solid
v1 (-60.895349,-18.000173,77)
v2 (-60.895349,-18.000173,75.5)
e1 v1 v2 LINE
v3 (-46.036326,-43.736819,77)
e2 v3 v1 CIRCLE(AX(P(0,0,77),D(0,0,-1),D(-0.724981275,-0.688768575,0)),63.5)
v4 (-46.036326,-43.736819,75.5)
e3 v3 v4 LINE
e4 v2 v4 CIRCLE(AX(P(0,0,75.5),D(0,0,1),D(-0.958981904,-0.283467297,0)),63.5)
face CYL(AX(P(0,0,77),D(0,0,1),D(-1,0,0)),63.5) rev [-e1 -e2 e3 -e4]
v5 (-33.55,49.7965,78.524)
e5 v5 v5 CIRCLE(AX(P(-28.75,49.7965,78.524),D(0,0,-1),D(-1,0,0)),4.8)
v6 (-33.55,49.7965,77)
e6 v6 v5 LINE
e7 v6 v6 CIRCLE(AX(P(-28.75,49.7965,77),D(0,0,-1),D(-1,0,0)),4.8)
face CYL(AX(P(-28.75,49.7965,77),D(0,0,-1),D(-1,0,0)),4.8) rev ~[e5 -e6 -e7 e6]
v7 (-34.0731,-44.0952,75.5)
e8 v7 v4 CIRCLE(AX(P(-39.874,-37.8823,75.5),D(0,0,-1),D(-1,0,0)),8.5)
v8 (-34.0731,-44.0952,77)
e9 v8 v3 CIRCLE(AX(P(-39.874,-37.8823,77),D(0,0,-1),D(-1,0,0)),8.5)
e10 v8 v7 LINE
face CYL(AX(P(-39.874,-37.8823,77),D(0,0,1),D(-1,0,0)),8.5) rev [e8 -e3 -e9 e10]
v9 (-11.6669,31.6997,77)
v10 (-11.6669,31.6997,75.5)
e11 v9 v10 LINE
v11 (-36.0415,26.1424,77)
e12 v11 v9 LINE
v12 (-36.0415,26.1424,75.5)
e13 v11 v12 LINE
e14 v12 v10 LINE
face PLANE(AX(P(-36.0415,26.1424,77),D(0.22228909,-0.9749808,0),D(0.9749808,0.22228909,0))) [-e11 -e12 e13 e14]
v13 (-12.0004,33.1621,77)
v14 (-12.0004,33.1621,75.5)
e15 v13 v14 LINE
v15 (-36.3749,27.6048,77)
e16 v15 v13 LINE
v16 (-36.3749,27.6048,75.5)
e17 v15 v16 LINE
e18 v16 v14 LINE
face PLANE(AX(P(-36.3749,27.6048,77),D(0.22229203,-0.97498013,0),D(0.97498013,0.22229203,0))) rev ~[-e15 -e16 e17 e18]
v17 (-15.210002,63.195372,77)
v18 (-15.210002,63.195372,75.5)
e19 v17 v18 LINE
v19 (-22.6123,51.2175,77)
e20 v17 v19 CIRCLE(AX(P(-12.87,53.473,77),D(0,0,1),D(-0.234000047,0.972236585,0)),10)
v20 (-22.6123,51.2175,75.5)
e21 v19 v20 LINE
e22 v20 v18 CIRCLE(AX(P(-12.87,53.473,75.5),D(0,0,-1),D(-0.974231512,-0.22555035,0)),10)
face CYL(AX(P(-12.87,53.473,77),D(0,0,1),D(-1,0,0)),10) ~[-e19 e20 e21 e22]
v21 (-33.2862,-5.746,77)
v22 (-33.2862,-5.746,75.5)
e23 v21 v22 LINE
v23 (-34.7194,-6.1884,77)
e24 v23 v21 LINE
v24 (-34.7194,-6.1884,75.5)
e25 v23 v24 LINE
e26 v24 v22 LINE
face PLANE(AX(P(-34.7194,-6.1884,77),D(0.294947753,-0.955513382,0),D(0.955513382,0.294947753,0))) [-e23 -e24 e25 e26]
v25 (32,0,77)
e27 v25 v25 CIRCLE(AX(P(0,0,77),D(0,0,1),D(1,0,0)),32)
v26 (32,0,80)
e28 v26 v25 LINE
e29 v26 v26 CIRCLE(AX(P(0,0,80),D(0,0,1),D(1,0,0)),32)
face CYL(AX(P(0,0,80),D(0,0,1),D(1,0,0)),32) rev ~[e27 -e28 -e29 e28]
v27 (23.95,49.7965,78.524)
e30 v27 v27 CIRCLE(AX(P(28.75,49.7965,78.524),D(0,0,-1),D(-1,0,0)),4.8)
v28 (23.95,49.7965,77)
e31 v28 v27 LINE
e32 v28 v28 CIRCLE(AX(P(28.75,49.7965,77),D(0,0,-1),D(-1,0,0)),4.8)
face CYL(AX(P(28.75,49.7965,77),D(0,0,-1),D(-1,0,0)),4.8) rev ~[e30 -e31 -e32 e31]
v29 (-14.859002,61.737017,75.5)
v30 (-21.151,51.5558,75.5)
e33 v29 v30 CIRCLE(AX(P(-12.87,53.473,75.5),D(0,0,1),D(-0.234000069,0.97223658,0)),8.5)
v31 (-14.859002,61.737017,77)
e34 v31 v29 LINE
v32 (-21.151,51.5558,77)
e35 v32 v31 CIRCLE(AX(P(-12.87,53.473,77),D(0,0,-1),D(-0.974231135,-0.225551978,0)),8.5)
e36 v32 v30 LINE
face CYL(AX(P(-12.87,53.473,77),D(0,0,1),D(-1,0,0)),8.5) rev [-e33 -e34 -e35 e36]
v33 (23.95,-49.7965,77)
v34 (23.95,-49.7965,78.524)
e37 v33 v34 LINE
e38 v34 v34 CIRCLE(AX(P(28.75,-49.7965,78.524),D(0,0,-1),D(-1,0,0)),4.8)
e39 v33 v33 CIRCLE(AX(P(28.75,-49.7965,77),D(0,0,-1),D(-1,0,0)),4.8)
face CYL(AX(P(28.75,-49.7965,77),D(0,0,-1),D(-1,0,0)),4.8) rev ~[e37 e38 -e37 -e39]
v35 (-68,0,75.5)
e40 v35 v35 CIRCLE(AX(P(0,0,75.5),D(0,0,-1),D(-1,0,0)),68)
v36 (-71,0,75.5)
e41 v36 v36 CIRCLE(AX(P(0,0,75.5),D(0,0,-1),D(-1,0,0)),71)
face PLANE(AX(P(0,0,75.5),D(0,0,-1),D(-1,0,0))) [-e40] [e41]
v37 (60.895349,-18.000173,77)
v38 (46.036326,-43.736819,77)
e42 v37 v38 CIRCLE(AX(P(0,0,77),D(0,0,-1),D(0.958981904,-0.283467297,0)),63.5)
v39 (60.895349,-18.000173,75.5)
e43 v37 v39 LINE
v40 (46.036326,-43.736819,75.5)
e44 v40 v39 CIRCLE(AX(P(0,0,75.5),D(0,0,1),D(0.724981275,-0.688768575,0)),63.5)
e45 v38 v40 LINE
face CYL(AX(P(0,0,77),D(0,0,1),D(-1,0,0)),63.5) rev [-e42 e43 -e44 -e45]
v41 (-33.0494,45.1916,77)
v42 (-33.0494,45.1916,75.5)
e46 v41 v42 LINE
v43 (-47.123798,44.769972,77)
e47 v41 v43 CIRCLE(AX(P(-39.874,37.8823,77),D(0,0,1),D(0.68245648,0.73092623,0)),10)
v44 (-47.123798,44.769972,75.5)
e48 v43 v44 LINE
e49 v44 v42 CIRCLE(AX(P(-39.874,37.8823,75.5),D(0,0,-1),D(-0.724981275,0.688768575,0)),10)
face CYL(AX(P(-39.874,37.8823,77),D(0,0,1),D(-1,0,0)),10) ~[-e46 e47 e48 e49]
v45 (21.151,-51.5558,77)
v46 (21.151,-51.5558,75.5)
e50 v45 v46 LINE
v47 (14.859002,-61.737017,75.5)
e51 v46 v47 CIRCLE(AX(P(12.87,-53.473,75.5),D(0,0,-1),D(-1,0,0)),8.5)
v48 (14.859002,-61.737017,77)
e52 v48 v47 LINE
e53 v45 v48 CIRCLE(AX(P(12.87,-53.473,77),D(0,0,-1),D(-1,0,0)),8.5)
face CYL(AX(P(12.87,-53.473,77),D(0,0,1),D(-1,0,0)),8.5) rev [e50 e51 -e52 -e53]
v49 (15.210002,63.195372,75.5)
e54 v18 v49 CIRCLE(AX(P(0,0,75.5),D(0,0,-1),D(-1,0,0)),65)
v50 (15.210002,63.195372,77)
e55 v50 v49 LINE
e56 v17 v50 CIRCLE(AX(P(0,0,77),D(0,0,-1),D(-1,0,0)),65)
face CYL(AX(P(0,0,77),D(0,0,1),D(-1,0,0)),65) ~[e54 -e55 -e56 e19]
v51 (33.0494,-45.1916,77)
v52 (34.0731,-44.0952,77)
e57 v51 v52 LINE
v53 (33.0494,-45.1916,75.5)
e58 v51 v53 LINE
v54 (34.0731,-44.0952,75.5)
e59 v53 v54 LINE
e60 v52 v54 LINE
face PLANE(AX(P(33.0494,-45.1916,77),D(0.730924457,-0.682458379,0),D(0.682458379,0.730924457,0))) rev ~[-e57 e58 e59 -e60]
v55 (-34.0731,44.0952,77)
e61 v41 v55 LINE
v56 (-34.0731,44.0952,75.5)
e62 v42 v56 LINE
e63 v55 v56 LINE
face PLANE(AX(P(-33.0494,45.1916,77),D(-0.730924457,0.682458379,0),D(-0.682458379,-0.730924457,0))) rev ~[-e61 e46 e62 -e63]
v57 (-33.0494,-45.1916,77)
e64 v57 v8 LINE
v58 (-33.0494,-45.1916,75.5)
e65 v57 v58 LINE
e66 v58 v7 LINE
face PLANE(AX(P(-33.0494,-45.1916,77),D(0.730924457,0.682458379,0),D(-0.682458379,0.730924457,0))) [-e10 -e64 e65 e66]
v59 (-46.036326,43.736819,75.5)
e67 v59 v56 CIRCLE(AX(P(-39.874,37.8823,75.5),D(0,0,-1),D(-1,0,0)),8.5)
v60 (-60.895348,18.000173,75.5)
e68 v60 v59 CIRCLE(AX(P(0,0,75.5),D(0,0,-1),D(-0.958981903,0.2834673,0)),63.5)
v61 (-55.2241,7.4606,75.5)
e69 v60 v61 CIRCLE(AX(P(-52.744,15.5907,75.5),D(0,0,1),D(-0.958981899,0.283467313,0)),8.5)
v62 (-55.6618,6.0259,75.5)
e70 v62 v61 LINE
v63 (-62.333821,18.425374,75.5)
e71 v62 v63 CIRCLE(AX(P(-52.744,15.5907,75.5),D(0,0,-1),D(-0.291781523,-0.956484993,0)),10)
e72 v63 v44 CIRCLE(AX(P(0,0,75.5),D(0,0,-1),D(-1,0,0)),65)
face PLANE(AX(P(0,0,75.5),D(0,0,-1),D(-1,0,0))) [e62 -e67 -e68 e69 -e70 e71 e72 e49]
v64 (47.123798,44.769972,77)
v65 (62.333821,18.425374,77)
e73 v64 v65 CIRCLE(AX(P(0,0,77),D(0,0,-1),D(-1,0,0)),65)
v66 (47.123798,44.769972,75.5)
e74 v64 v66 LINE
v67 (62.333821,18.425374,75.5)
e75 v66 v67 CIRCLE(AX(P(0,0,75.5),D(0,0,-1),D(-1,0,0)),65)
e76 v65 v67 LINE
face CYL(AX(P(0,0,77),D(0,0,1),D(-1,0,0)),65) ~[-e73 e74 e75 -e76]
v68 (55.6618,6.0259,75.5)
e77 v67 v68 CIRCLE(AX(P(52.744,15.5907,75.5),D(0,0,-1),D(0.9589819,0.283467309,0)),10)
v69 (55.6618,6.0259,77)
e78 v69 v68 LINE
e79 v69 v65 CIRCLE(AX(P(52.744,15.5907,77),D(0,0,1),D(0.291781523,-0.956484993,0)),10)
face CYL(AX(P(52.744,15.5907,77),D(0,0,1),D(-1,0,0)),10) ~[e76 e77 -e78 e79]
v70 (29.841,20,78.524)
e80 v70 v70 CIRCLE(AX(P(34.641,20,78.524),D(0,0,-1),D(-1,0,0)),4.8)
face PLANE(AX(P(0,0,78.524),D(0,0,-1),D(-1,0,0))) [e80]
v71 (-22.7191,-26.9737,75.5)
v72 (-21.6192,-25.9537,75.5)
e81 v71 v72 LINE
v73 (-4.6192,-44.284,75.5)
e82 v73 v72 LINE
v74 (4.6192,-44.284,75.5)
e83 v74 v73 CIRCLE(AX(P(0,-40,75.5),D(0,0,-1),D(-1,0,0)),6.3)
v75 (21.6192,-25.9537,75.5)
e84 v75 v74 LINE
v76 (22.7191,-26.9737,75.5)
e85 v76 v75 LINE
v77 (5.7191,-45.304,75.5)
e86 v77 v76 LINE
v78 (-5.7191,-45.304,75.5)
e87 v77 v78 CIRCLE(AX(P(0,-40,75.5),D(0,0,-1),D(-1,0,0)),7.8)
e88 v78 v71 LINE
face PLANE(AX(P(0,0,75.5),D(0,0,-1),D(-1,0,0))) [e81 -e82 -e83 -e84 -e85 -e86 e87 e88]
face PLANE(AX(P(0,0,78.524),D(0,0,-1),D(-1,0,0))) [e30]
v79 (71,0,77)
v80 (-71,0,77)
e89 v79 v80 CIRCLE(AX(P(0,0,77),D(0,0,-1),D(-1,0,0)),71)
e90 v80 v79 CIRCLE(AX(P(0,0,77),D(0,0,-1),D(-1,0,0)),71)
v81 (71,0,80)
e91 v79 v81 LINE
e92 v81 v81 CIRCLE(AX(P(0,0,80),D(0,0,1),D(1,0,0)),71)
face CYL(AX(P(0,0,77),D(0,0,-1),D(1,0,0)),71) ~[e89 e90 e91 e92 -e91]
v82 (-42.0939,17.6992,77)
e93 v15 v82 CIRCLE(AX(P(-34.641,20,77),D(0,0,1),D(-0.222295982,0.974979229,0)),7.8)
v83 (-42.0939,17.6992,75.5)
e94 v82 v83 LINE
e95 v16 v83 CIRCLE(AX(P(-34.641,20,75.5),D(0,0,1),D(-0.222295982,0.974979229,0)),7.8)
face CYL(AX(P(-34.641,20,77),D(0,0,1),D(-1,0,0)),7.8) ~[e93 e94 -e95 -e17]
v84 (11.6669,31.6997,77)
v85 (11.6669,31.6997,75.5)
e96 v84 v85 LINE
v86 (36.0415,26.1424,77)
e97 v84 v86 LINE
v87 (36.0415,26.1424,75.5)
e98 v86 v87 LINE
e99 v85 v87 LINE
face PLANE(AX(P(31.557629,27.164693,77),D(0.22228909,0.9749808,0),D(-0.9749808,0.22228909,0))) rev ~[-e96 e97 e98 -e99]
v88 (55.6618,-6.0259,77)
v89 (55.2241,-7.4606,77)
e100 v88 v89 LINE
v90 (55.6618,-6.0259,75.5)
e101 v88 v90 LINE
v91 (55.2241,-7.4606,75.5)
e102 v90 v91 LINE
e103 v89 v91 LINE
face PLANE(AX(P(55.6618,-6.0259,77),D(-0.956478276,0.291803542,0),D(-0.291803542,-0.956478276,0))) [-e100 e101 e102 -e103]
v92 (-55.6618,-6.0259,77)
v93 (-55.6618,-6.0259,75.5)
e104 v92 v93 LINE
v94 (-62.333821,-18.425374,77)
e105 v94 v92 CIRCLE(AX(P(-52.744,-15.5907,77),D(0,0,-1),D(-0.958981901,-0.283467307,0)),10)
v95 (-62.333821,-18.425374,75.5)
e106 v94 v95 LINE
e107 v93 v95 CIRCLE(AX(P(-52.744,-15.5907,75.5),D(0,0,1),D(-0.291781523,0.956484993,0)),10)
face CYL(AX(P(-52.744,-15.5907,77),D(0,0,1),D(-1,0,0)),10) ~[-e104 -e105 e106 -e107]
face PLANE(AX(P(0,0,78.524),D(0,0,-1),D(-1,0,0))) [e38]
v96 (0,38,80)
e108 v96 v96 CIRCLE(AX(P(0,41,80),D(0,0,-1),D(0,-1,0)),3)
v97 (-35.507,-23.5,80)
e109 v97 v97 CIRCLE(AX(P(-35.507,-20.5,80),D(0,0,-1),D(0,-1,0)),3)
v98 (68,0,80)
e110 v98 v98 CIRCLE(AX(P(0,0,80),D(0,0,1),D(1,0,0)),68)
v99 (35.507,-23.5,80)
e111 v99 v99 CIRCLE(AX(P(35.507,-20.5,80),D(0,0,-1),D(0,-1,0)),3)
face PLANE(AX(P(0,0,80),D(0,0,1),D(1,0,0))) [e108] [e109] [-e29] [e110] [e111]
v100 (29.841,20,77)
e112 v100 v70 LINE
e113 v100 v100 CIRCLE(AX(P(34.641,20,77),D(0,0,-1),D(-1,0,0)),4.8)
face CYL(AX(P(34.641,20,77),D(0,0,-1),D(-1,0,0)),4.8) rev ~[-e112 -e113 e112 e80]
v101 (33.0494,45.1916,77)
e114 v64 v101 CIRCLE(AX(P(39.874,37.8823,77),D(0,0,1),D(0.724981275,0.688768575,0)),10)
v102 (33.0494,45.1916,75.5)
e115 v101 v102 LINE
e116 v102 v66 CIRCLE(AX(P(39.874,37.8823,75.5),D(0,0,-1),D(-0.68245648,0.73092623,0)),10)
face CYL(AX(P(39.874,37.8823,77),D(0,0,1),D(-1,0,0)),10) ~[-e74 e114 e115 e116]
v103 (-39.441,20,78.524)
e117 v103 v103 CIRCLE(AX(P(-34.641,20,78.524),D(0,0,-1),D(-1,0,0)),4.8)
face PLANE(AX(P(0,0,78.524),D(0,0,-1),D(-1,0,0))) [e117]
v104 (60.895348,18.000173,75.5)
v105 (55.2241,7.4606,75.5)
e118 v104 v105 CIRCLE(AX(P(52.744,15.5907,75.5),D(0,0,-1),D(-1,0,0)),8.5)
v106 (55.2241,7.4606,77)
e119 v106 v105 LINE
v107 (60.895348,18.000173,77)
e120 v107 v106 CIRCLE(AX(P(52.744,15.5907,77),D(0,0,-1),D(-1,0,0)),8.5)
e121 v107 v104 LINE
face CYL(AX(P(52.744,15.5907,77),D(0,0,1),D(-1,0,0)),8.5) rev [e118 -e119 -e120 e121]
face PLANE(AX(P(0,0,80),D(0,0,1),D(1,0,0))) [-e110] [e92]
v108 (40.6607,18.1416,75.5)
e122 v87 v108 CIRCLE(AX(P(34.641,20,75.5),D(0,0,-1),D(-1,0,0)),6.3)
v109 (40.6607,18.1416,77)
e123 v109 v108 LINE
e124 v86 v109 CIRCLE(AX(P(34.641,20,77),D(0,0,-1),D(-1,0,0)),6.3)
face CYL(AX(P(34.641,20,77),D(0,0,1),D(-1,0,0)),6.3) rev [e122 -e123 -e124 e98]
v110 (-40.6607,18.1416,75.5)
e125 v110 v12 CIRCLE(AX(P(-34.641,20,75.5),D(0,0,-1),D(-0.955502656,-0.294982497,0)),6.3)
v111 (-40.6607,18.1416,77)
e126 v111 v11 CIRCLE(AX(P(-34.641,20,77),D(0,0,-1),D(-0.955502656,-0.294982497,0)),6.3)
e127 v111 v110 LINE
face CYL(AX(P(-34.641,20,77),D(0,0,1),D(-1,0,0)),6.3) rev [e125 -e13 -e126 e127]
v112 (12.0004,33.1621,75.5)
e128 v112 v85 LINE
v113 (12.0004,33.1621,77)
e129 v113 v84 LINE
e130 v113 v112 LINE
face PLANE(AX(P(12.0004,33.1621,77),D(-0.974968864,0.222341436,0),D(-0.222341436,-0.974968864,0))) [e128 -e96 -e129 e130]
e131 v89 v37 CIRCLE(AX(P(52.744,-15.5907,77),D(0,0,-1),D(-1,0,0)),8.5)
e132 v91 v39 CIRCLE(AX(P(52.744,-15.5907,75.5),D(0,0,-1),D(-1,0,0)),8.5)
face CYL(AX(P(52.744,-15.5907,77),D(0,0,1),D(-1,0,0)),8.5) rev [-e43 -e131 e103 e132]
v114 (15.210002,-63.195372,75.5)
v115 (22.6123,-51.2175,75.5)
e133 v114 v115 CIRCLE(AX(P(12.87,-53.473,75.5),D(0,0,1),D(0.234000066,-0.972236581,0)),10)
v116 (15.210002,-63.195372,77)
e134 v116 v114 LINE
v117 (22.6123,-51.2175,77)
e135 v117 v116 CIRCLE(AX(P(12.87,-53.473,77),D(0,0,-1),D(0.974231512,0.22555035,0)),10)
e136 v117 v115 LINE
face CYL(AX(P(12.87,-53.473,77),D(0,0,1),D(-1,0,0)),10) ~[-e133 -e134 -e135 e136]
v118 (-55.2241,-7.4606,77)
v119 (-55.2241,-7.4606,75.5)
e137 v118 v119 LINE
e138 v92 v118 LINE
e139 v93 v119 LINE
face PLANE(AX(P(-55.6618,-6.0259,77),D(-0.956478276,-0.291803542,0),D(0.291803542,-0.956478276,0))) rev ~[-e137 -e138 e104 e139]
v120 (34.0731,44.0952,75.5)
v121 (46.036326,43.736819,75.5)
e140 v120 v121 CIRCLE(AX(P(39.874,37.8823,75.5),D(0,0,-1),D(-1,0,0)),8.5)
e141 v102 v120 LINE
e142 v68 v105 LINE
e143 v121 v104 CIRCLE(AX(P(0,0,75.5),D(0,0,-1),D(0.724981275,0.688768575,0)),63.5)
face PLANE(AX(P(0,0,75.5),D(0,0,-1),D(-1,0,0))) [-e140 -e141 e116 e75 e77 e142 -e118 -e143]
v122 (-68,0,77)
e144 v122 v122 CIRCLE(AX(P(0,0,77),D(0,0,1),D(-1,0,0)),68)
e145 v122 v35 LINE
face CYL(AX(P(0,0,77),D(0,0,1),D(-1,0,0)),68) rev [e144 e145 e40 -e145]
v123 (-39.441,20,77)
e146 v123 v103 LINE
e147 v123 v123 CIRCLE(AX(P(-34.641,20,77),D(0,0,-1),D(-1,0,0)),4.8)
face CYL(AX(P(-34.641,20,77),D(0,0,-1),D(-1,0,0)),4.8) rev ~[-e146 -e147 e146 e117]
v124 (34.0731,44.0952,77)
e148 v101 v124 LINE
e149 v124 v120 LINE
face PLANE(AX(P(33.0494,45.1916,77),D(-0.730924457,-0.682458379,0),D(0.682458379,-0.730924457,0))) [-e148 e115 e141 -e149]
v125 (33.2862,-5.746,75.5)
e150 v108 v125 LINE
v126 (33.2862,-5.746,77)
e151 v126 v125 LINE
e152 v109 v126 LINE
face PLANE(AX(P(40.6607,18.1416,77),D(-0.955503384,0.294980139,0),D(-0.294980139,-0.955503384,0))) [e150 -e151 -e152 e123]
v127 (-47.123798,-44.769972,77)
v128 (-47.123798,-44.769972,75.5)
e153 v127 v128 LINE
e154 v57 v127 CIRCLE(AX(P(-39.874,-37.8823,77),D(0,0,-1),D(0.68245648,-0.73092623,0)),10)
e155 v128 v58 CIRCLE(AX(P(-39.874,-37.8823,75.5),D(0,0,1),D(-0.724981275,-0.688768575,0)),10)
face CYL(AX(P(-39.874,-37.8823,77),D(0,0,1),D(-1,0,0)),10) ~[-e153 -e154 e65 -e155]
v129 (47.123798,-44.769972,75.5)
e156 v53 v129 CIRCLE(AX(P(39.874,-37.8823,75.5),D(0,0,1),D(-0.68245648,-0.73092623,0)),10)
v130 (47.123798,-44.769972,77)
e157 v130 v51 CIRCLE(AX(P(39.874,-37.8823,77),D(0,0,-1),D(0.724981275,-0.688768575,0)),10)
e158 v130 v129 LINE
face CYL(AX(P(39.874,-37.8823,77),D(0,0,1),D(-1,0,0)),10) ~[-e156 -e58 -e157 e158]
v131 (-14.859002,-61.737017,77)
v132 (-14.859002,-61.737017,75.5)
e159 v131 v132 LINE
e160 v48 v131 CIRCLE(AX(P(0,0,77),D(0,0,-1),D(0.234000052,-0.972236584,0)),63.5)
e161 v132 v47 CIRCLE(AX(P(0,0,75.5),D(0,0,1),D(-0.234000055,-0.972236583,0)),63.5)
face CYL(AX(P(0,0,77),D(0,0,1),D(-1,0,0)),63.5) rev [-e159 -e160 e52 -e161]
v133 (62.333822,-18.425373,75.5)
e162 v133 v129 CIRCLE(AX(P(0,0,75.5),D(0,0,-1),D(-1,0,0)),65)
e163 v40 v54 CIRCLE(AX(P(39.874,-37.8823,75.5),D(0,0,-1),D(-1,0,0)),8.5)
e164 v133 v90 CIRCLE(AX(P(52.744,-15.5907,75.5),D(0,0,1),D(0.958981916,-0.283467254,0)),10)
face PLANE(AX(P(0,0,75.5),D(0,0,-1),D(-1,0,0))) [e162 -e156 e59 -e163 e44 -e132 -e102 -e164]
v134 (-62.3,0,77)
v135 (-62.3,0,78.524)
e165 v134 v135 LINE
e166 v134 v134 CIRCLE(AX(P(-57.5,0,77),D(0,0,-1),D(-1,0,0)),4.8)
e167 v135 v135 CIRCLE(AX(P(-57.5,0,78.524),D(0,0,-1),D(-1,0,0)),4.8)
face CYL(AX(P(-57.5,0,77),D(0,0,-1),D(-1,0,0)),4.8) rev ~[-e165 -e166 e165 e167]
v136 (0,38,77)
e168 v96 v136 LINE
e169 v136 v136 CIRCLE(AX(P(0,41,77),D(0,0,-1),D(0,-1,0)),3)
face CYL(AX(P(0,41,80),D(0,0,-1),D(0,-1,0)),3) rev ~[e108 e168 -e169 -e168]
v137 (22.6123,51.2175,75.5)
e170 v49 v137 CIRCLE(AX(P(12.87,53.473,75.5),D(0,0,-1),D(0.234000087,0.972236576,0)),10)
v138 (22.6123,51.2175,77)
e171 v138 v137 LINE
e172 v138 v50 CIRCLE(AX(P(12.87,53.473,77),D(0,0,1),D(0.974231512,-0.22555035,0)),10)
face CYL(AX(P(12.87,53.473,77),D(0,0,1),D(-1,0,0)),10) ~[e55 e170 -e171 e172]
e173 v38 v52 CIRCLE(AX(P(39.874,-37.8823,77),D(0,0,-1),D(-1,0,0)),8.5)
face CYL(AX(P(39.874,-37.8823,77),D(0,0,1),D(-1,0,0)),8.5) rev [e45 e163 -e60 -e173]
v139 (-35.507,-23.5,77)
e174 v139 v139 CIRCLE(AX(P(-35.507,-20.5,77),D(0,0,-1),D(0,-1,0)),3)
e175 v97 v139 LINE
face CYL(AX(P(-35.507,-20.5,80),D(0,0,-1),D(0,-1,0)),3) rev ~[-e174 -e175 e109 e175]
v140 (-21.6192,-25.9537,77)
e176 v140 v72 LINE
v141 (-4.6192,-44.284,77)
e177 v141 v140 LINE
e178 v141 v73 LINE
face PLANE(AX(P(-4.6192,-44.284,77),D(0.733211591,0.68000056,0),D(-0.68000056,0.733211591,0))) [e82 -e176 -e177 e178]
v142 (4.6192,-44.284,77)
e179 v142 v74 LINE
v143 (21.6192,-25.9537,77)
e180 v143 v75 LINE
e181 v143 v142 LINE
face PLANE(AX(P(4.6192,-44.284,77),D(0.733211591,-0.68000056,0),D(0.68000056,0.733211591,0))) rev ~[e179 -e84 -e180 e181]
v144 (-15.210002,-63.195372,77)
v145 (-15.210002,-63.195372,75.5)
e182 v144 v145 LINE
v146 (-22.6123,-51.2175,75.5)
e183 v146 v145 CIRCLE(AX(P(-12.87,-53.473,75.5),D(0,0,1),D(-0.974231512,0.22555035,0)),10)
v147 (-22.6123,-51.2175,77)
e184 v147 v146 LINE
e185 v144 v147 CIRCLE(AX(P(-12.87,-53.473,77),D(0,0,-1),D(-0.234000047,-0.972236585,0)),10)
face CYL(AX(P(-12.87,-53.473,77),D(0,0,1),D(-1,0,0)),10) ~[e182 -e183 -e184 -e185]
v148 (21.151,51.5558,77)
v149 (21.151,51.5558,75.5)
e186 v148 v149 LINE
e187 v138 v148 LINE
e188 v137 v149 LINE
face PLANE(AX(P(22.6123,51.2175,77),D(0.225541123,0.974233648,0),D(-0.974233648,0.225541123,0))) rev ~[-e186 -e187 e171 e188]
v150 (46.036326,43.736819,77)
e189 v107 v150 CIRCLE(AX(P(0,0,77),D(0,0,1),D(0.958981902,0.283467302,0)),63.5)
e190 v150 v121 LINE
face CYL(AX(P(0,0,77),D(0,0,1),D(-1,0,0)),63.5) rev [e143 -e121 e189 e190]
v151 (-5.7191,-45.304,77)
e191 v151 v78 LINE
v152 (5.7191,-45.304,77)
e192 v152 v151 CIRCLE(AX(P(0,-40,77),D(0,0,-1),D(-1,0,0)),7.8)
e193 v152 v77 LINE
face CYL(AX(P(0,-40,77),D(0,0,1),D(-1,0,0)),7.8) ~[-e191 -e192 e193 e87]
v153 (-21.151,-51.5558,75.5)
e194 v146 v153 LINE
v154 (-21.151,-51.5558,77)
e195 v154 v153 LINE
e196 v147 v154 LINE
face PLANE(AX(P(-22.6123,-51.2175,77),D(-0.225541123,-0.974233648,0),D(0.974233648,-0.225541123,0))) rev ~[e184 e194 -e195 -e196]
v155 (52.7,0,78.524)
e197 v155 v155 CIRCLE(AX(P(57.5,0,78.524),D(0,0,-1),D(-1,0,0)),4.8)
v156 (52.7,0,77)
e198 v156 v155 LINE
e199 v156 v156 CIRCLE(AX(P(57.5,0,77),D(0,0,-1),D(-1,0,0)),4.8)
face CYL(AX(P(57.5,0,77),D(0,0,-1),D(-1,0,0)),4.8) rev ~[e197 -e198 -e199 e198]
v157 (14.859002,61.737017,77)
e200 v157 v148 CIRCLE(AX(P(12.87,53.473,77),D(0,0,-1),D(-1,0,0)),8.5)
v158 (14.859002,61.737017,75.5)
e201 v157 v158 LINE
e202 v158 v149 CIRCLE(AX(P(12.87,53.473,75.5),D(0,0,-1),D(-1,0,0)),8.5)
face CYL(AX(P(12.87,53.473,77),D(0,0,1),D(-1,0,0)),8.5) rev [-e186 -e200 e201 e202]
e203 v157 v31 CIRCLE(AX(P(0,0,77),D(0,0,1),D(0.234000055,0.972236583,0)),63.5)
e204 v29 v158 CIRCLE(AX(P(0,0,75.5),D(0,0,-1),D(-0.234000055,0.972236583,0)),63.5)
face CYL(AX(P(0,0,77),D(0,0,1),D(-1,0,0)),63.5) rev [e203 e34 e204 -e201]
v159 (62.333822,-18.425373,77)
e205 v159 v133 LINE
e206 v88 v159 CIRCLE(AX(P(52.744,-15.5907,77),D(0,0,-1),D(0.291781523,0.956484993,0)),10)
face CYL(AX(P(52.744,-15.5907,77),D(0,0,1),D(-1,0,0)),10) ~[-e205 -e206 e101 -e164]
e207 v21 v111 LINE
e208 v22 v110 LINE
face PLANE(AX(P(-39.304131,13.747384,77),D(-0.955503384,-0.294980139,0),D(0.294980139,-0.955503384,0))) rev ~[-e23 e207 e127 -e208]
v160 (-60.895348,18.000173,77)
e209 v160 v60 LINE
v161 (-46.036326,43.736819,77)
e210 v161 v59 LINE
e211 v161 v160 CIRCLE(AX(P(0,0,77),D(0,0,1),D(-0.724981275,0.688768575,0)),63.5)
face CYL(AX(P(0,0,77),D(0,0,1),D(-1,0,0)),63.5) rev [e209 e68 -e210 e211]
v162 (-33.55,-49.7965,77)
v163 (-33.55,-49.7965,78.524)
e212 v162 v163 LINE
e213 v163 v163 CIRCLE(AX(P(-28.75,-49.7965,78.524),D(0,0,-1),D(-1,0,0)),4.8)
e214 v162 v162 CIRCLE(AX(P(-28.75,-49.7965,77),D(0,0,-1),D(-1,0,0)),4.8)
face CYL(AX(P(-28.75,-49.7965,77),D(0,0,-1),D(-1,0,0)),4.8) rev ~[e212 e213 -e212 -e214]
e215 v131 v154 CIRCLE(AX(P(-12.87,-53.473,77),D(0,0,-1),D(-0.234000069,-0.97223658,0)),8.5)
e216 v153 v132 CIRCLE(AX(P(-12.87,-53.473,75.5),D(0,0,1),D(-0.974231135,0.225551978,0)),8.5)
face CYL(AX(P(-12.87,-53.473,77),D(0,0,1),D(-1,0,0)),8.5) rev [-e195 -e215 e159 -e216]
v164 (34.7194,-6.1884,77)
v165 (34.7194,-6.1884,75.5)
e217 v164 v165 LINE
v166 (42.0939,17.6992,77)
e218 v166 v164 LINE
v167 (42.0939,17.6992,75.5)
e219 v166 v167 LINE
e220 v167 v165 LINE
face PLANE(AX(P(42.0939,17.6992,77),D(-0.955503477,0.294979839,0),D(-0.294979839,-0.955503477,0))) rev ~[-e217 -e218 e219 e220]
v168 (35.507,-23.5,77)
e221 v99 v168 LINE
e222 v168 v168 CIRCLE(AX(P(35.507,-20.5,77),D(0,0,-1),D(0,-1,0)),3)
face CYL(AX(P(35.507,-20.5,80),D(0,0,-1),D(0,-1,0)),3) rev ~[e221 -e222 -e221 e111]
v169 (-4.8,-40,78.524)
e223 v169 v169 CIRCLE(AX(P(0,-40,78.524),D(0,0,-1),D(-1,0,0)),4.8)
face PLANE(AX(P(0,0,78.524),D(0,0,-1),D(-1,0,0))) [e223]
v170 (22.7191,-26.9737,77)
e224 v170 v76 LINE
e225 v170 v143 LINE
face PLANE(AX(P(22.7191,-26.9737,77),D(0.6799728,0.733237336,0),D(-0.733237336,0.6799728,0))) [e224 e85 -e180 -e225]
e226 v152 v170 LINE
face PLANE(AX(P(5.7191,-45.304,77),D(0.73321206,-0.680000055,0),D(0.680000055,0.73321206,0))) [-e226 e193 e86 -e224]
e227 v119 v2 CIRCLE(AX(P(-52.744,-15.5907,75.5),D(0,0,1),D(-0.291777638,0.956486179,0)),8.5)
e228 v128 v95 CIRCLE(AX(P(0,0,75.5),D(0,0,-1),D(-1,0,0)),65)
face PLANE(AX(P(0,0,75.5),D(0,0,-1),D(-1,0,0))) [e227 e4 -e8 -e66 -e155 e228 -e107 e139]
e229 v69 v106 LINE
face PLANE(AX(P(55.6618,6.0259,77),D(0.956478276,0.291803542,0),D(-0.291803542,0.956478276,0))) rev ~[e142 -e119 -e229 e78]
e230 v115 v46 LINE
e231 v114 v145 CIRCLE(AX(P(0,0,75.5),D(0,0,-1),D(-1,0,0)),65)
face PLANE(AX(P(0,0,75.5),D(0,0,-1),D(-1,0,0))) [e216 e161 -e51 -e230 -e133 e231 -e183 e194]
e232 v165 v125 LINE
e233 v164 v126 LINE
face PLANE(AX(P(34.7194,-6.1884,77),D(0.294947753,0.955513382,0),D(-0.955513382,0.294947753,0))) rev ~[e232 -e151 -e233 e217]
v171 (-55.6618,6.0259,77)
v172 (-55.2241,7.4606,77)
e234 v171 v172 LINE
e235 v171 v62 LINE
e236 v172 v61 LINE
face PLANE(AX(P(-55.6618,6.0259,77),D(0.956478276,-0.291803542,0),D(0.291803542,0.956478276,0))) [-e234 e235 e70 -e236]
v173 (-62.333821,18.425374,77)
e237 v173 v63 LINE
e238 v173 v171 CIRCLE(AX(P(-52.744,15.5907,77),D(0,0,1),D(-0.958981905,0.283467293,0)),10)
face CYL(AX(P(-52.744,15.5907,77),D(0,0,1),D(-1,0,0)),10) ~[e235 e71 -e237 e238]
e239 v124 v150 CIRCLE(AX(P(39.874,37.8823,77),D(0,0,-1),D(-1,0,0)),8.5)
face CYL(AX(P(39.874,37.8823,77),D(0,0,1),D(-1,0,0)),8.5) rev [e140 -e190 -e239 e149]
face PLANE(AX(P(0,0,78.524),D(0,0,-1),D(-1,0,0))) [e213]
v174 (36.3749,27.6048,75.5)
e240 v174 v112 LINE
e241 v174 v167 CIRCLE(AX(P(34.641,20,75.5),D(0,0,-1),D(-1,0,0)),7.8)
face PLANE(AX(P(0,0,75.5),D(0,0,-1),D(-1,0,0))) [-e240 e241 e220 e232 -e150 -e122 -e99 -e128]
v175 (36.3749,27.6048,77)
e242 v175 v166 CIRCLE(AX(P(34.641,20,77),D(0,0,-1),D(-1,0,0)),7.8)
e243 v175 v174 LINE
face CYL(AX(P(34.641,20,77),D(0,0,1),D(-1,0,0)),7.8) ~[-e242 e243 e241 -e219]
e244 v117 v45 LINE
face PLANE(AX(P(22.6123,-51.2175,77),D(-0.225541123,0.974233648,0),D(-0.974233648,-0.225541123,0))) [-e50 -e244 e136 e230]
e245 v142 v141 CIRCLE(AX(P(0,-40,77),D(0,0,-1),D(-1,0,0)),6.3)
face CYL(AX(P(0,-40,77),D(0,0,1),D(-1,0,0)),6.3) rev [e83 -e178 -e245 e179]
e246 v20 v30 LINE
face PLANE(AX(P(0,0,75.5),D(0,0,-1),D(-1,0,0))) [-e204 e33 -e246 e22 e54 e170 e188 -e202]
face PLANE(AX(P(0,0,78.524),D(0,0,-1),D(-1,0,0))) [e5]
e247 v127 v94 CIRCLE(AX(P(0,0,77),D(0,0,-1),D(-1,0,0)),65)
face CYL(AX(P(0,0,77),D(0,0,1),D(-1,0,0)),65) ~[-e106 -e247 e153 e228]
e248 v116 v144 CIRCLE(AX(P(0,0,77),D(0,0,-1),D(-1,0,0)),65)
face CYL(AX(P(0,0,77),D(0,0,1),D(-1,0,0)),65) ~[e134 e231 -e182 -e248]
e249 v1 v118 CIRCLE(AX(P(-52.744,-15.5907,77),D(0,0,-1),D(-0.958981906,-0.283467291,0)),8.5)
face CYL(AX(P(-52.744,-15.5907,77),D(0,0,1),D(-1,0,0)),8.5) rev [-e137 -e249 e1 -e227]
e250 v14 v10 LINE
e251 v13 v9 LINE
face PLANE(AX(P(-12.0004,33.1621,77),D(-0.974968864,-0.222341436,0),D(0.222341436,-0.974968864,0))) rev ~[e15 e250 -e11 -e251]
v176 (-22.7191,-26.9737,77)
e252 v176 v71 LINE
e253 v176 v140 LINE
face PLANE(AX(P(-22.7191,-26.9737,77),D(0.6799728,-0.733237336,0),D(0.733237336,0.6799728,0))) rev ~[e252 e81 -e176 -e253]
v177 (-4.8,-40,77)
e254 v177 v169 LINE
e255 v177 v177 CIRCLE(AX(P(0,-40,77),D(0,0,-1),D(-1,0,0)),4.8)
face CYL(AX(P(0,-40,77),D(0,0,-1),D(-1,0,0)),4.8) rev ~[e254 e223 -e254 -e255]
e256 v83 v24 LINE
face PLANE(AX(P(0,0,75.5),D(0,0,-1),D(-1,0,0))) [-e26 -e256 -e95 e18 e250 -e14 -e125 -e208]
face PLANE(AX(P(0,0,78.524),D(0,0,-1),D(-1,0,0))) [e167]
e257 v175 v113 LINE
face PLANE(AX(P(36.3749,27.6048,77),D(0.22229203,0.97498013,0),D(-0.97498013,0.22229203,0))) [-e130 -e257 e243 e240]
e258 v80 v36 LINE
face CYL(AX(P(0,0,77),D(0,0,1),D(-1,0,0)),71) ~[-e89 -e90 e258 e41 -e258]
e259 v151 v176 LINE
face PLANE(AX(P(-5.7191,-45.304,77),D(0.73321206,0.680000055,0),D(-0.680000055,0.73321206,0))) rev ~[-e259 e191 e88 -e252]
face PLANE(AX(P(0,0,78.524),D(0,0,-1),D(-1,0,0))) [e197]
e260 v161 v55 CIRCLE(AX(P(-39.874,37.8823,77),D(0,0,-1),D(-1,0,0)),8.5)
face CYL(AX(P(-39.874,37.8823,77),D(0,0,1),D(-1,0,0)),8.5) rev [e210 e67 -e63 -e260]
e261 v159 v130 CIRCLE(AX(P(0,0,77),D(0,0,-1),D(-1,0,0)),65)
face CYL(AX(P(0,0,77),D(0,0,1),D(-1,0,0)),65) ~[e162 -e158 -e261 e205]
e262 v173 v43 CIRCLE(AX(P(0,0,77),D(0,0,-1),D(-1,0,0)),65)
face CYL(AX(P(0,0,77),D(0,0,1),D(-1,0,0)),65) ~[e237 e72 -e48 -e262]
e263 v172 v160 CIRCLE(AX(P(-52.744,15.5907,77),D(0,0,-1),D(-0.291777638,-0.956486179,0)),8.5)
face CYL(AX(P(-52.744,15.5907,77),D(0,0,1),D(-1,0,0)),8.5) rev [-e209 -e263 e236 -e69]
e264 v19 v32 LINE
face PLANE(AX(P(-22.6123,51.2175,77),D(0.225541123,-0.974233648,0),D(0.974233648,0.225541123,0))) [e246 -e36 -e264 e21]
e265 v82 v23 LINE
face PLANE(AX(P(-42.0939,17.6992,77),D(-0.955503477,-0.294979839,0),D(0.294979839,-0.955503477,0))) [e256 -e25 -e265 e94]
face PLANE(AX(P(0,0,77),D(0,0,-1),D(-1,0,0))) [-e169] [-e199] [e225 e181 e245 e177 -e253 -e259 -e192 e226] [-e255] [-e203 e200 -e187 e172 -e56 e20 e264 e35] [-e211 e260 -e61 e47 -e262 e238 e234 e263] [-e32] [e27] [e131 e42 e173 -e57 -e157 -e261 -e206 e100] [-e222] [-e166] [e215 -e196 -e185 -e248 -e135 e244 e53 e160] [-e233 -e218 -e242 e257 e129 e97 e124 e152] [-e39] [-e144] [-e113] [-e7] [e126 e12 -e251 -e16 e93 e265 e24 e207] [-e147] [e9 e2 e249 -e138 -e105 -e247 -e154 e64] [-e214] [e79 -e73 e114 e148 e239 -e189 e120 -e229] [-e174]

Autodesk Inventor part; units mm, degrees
ref_plane "YZ Plane" through (0, 0, 0) normal (1, 0, 0) x (0, 1, 0)
sketch "Sketch1" plane through (0, 0, 0) normal (0, 0, 1) x (1, 0, 0)
  circle A0 centre (0, 0) radius 68
  dimension "d1" = 136
extrude "Extrusion1" add sketch "Sketch1" along normal blind 80
shell "Shell1" thickness 3 removed faces 1 at (13.6377, 7.7647, 0)
sketch "Sketch2" plane through (0, 0, 80) normal (0, 0, 1) x (1, 0, 0)
  circle A0 centre (0, 0) radius 32
  dimension "d5" = 64
extrude "Extrusion2" cut sketch "Sketch2" against normal up to surface (3 mm away)
sketch "Sketch3" plane through (0, 0, 77) normal (0, 0, -1) x (-1, 0, 0)
  circle A0 centre (0, 0) radius 32 projected
  circle A1 centre (0, 0) radius 65 projected
  circle A2 centre (0, -40) radius 4.8
  line L0 (0, 0) -> (0, -56.282) construction
  line L1 (0, 0) -> (-47.9956, 27.7103) construction
  line L2 (0, 0) -> (60.1339, 34.7183) construction
  circle A3 centre (-34.641, 20) radius 4.8
  circle A4 centre (34.641, 20) radius 4.8
  dimension "d8" = 9.6
  dimension "d9" = 40
  dimension "d10" = 120
  dimension "d11" = 120
  dimension "d12" = 9.6
  dimension "d13" = 9.6
  dimension "d14" = 40
  dimension "d15" = 40
extrude "Extrusion3" cut sketch "Sketch3" against normal blind 1.524 contours A2 | A3 | A4
ref_plane "Work Plane1" through (0, 0, 55) normal (0, 0, 1) x (1, 0, 0)
sketch "Sketch4" plane through (0, 0, 55) normal (0, 0, 1) x (1, 0, 0)
  circle A0 centre (0, 0) radius 68 projected
  circle A1 centre (0, 0) radius 68 projected
  line L0 (0, 68) -> (56.3915, 68)
  line L1 (56.3915, 68) -> (56.3915, 38)
  line L2 (56.3915, 38) -> (0, 38)
  line L3 (0, 38) -> (0, 68)
  dimension "d24" = 30
extrude "Extrusion4" add sketch "Sketch4" against normal blind 25 contours A0 L0 L1
sketch "Sketch6" plane through (56.3915, 38, 55) normal (1, 0, 0) x (0, 0, -1)
  line L0 (0, 0) -> (0, 30) projected
  line L1 (25, 0) -> (0, 0) projected
  line L2 (25, 30) -> (25, 0) projected
  line L3 (0, 30) -> (25, 30) projected
  line L4 (22, 27) -> (22, 3)
  line L5 (22, 3) -> (3, 3)
  line L6 (3, 3) -> (3, 27)
  line L7 (3, 27) -> (22, 27)
  point P0 (55, -38)
  dimension "d27" = 3
extrude "Extrusion5" cut sketch "Sketch6" against normal blind 56.391 contours L4 L5 L6 L7
ref_plane "Work Plane4" through (0, 68, 0) normal (0, 1, 0) x (-1, 0, 0)
sketch "Sketch9" plane through (56.3915, 38, 55) normal (1, 0, 0) x (0, 0, -1)
  line L0 (3, 3) -> (3, 27) projected
  line L1 (3, 27) -> (22, 27) projected
  line L2 (22, 27) -> (22, 3) projected
  line L3 (22, 3) -> (3, 3) projected
  line L4 (0, 0) -> (0, 30) projected
  line L5 (25, 0) -> (0, 0) projected
  line L6 (25, 30) -> (25, 0) projected
  line L7 (0, 30) -> (25, 30) projected
  point P0 (55, -38)
sketch "Sketch10" plane through (0, 68, 0) normal (0, 1, 0) x (-1, 0, 0)
  circle A0 centre (-56.3915, 0) radius 55 construction
  line L0 (-127.7058, 55) -> (100.6176, 55) projected
  line L1 (-56.3915, 55) -> (0, 55) projected
  line L2 (0, 0) -> (-96.3915, 0) construction
  arc A1 (-56.3915, 55) -> (-111.3915, 0) centre (-56.3915, 0) ccw
sweep "Sweep2" add profiles "Sketch9" path "Sketch10" path curves A1
sketch "Sketch11" plane through (0, 0, 77) normal (0, 0, -1) x (-1, 0, 0)
  circle A0 centre (-34.641, 20) radius 4.8 projected
  circle A1 centre (34.641, 20) radius 4.8 projected
  circle A2 centre (0, -40) radius 4.8 projected
  circle A3 centre (0, 0) radius 32 projected
  circle A4 centre (0, 0) radius 65 projected
  circle A5 centre (-34.641, 20) radius 6.3
  circle A6 centre (34.641, 20) radius 6.3
  circle A7 centre (0, -40) radius 6.3
  circle A8 centre (0, 0) radius 33.5
  line L0 (-36.0415, 26.1424) -> (-7.4468, 32.6618)
  line L1 (-40.6607, 18.1416) -> (-32.0094, -9.8818)
  line L2 (36.0415, 26.1424) -> (7.4468, 32.6618)
  line L3 (40.6607, 18.1416) -> (32.0094, -9.8818)
  line L4 (4.6192, -44.284) -> (24.5626, -22.78)
  line L5 (-4.6192, -44.284) -> (-24.5626, -22.78)
  circle A9 centre (-34.641, 20) radius 7.8
  line L6 (-42.0939, 17.6992) -> (-34.7194, -6.1884)
  circle A10 centre (34.641, 20) radius 7.8
  circle A11 centre (0, -40) radius 7.8
  line L7 (-36.3749, 27.6048) -> (-12.0004, 33.1621)
  line L8 (36.3749, 27.6048) -> (12.0004, 33.1621)
  line L9 (42.0939, 17.6992) -> (34.7194, -6.1884)
  line L10 (5.7191, -45.304) -> (22.7191, -26.9737)
  line L11 (-5.7191, -45.304) -> (-22.7191, -26.9737)
  line L12 (-34.7194, -6.1884) -> (-33.2862, -5.746)
  line L13 (-22.7191, -26.9737) -> (-21.6192, -25.9537)
  line L14 (12.0004, 33.1621) -> (11.6669, 31.6997)
  line L15 (34.7194, -6.1884) -> (33.2862, -5.746)
  line L16 (22.7191, -26.9737) -> (21.6192, -25.9537)
  line L17 (-12.0004, 33.1621) -> (-11.6669, 31.6997)
  dimension "d39" = 1.5
  dimension "d40" = 1.5
  dimension "d41" = 1.5
  dimension "d42" = 1.5
  dimension "d43" = 1.5
  dimension "d44" = 1.5
  dimension "d45" = 1.5
  dimension "d46" = 25
  dimension "d47" = 25
  dimension "d48" = 25
  dimension "d49" = 25
  dimension "d50" = 25
  dimension "d51" = 25
extrude "Extrusion6" add sketch "Sketch11" along normal blind 1.5 contours A5 L1 A9 L0 | A9 L7 L17 L0 | L1 L12 L6 A9 | L14 L8 A10 L2 | L5 A11 L11 L13 | A10 L3 A6 L2 | L5 A7 L4 A11 | A10 L9 L15 L3 | L16 L10 A11 L4
sketch "Sketch14" plane through (0, 0, 80) normal (0, 0, 1) x (1, 0, 0)
  circle A0 centre (0, 0) radius 32 projected
  line L0 (0, 0) -> (0, 28.9416) construction
  circle A1 centre (0, 41) radius 3
  line L1 (0, 0) -> (-25.0642, -14.4708) construction
  line L2 (0, 0) -> (25.0642, -14.4708) construction
  point P0 (-35.507, -20.5)
  point P1 (-35.507, -20.5)
  point P2 (35.507, -20.5)
  point P3 (35.507, -20.5)
  dimension "d98" = 6
  dimension "d99" = 41
  dimension "d102" = 360
hole "Hole1" at (0, 41, 80) at (-35.507, -20.5, 80) at (35.507, -20.5, 80) direction (0, 0, -1) diameter 6 end through all
sketch "Sketch16" plane through (0, 0, 0) normal (0, 0, -1) x (-1, 0, 0)
  circle A0 centre (0, 0) radius 68 projected
  line L0 (-147.0847, -150.1925) -> (110.1745, -150.1925)
  line L1 (110.1745, -150.1925) -> (110.1745, 168.3901)
  line L2 (110.1745, 168.3901) -> (-147.0847, 168.3901)
  line L3 (-147.0847, 168.3901) -> (-147.0847, -150.1925)
extrude "Extrusion9" cut sketch "Sketch16" against normal up to surface (75.5 mm away) contours A0 | L3 L2 L1 L0
sketch "Sketch17" plane through (0, 0, 75.5) normal (0, 0, -1) x (-1, 0, 0)
  circle A0 centre (0, 0) radius 65 projected
  circle A1 centre (0, 0) radius 68 projected
extrude "Extrusion10" cut sketch "Sketch17" against normal up to surface (1.5 mm away)
sketch "Sketch18" plane through (0, 0, 77) normal (0, 0, -1) x (-1, 0, 0)
  circle A0 centre (0, 0) radius 68 projected
  circle A1 centre (0, 0) radius 71
  line L0 (0, 0) -> (-80.0299, 0) construction
  circle A2 centre (-57.5, 0) radius 4.8
  circle A3 centre (0, 0) radius 65
  circle A4 centre (-57.5, 0) radius 6.3
  circle A5 centre (-52.744, -15.5907) radius 10
  circle A6 centre (-52.744, 15.5907) radius 10
  circle A7 centre (-12.87, -53.473) radius 10
  circle A8 centre (-28.75, -49.7965) radius 6.3
  circle A9 centre (-28.75, -49.7965) radius 4.8
  circle A10 centre (-39.874, -37.8823) radius 10
  circle A11 centre (39.874, -37.8823) radius 10
  circle A12 centre (28.75, -49.7965) radius 6.3
  circle A13 centre (28.75, -49.7965) radius 4.8
  circle A14 centre (12.87, -53.473) radius 10
  circle A15 centre (52.744, 15.5907) radius 10
  circle A16 centre (57.5, 0) radius 6.3
  circle A17 centre (57.5, 0) radius 4.8
  circle A18 centre (52.744, -15.5907) radius 10
  circle A19 centre (12.87, 53.473) radius 10
  circle A20 centre (28.75, 49.7965) radius 6.3
  circle A21 centre (28.75, 49.7965) radius 4.8
  circle A22 centre (39.874, 37.8823) radius 10
  circle A23 centre (-39.874, 37.8823) radius 10
  circle A24 centre (-28.75, 49.7965) radius 6.3
  circle A25 centre (-28.75, 49.7965) radius 4.8
  circle A26 centre (-12.87, 53.473) radius 10
  circle A27 centre (-52.744, -15.5907) radius 8.5
  circle A28 centre (-39.874, -37.8823) radius 8.5
  circle A29 centre (0, 0) radius 63.5
  line L1 (-33.0494, -45.1916) -> (-34.0731, -44.0952)
  line L2 (-55.6618, -6.0259) -> (-55.2241, -7.4606)
  circle A30 centre (-12.87, -53.473) radius 8.5
  circle A31 centre (12.87, -53.473) radius 8.5
  line L3 (-22.6123, -51.2175) -> (-21.151, -51.5558)
  line L4 (22.6123, -51.2175) -> (21.151, -51.5558)
  circle A32 centre (39.874, -37.8823) radius 8.5
  circle A33 centre (52.744, -15.5907) radius 8.5
  line L5 (33.0494, -45.1916) -> (34.0731, -44.0952)
  line L6 (55.6618, -6.0259) -> (55.2241, -7.4606)
  circle A34 centre (52.744, 15.5907) radius 8.5
  circle A35 centre (39.874, 37.8823) radius 8.5
  line L7 (55.6618, 6.0259) -> (55.2241, 7.4606)
  line L8 (33.0494, 45.1916) -> (34.0731, 44.0952)
  circle A36 centre (12.87, 53.473) radius 8.5
  circle A37 centre (-12.87, 53.473) radius 8.5
  line L9 (22.6123, 51.2175) -> (21.151, 51.5558)
  line L10 (-22.6123, 51.2175) -> (-21.151, 51.5558)
  circle A38 centre (-39.874, 37.8823) radius 8.5
  circle A39 centre (-52.744, 15.5907) radius 8.5
  line L11 (-33.0494, 45.1916) -> (-34.0731, 44.0952)
  line L12 (-55.6618, 6.0259) -> (-55.2241, 7.4606)
  point P0 (22.6123, -51.2175)
  point P1 (14.859, -61.737)
  point P2 (-14.859, -61.737)
  point P3 (-22.6123, -51.2175)
  point P4 (-15.2101, -63.1954)
  point P5 (15.2101, -63.1954)
  point P6 (55.6618, -6.0259)
  point P7 (60.8953, -18.0002)
  point P8 (46.0363, -43.7368)
  point P9 (33.0494, -45.1916)
  point P10 (47.1238, -44.77)
  point P11 (62.3338, -18.4254)
  point P12 (33.0494, 45.1916)
  point P13 (46.0363, 43.7368)
  point P14 (60.8953, 18.0002)
  point P15 (55.6618, 6.0259)
  point P16 (62.3338, 18.4254)
  point P17 (47.1238, 44.77)
  point P18 (-22.6123, 51.2175)
  point P19 (-14.859, 61.737)
  point P20 (14.859, 61.737)
  point P21 (15.2101, 63.1954)
  point P22 (-15.2101, 63.1954)
  point P23 (-55.6618, 6.0259)
  point P24 (-60.8953, 18.0002)
  point P25 (-46.0363, 43.7368)
  point P26 (-33.0494, 45.1916)
  point P27 (-47.1238, 44.77)
  point P28 (-62.3338, 18.4254)
  point P29 (-60.8953, -18.0002)
  point P30 (-62.3338, -18.4254)
  point P31 (-47.1238, -44.77)
  point P32 (-46.0363, -43.7368)
  dimension "d120" = 20
  dimension "d126" = 1.5
  dimension "d127" = 1.5
  dimension "d115" = 142
  dimension "d116" = 9.6
  dimension "d117" = 130
  dimension "d118" = 57.5
  dimension "d119" = 1.5
  dimension "d121" = 20
  dimension "d124" = 360
  dimension "d130" = 360
extrude "Extrusion11" add sketch "Sketch18" along normal blind 1.5 contours A1 | A15 A29 A22 A3 | A15 A29 | A3 A11 A29 A18 | A18 A29 | A22 A29 | A11 A29 | A19 A29 A26 A3 | A19 A29 | A29 A35 L8 A22 | A15 L7 A34 A29 | A3 A7 A29 A14 | A14 A29 | A11 L5 A32 A29 | A18 A29 A33 L6 | A26 A29 | A19 L9 A36 A29 | A7 A29 | A29 A31 L4 A14 | A23 A29 A6 A3 | A23 A29 | A29 A37 L10 A26 | A3 A5 A29 A10 | A10 A29 | A7 L3 A30 A29 | A6 A29 | A23 L11 A38 A29 | A5 A29 | A29 A28 L1 A10 | A29 A39 L12 A6 | A5 L2 A27 A29 picked at (34.5421, 45.674) picked at (56.7995, 7.0624) picked at (34.5421, -45.6741) picked at (56.7995, -7.0624) picked at (22.201, 54.9051) picked at (22.201, -54.9051) picked at (-22.2838, 52.7514) picked at (-22.2838, -52.7514) picked at (-34.5421, 45.6741) picked at (-34.5421, -45.674) picked at (-56.826, 7.0773) picked at (-56.826, -7.0773)
sketch "Sketch20" plane through (0, 0, 77) normal (0, 0, 1) x (1, 0, 0)
  circle A0 centre (0, 0) radius 71 projected
  circle A1 centre (0, 0) radius 68 projected
  circle A2 centre (0, 0) radius 68 projected
extrude "Extrusion13" add sketch "Sketch20" along normal up to surface (3 mm away)
sketch "Sketch19" plane through (0, 0, 77) normal (0, 0, -1) x (-1, 0, 0)
  line L0 (0, 0) -> (-65.5735, 0) construction
  circle A0 centre (-57.5, 0) radius 4.8
  circle A1 centre (-28.75, -49.7965) radius 4.8
  circle A2 centre (28.75, -49.7965) radius 4.8
  circle A3 centre (57.5, 0) radius 4.8
  circle A4 centre (28.75, 49.7965) radius 4.8
  circle A5 centre (-28.75, 49.7965) radius 4.8
  dimension "d134" = 9.6
  dimension "d135" = 57.5
  dimension "d138" = 360
extrude "Extrusion12" cut sketch "Sketch19" against normal blind 1.524
equation "\"d11\" = d10"
equation "\"d12\" = d8"
equation "\"d13\" = d8"
equation "\"d14\" = d9"
equation "\"d15\" = d9"
equation "\"d40\" = d39"
equation "\"d41\" = d39"
equation "\"d42\" = d39"
equation "\"d44\" = d43"
equation "\"d45\" = d41"
equation "\"d47\" = d46"
equation "\"d48\" = d47"
equation "\"d49\" = d48"
equation "\"d50\" = d49"
equation "\"d51\" = d50"
equation "\"d127\" = d126"
equation "\"d121\" = d120"
properties part number "Top Lid"
